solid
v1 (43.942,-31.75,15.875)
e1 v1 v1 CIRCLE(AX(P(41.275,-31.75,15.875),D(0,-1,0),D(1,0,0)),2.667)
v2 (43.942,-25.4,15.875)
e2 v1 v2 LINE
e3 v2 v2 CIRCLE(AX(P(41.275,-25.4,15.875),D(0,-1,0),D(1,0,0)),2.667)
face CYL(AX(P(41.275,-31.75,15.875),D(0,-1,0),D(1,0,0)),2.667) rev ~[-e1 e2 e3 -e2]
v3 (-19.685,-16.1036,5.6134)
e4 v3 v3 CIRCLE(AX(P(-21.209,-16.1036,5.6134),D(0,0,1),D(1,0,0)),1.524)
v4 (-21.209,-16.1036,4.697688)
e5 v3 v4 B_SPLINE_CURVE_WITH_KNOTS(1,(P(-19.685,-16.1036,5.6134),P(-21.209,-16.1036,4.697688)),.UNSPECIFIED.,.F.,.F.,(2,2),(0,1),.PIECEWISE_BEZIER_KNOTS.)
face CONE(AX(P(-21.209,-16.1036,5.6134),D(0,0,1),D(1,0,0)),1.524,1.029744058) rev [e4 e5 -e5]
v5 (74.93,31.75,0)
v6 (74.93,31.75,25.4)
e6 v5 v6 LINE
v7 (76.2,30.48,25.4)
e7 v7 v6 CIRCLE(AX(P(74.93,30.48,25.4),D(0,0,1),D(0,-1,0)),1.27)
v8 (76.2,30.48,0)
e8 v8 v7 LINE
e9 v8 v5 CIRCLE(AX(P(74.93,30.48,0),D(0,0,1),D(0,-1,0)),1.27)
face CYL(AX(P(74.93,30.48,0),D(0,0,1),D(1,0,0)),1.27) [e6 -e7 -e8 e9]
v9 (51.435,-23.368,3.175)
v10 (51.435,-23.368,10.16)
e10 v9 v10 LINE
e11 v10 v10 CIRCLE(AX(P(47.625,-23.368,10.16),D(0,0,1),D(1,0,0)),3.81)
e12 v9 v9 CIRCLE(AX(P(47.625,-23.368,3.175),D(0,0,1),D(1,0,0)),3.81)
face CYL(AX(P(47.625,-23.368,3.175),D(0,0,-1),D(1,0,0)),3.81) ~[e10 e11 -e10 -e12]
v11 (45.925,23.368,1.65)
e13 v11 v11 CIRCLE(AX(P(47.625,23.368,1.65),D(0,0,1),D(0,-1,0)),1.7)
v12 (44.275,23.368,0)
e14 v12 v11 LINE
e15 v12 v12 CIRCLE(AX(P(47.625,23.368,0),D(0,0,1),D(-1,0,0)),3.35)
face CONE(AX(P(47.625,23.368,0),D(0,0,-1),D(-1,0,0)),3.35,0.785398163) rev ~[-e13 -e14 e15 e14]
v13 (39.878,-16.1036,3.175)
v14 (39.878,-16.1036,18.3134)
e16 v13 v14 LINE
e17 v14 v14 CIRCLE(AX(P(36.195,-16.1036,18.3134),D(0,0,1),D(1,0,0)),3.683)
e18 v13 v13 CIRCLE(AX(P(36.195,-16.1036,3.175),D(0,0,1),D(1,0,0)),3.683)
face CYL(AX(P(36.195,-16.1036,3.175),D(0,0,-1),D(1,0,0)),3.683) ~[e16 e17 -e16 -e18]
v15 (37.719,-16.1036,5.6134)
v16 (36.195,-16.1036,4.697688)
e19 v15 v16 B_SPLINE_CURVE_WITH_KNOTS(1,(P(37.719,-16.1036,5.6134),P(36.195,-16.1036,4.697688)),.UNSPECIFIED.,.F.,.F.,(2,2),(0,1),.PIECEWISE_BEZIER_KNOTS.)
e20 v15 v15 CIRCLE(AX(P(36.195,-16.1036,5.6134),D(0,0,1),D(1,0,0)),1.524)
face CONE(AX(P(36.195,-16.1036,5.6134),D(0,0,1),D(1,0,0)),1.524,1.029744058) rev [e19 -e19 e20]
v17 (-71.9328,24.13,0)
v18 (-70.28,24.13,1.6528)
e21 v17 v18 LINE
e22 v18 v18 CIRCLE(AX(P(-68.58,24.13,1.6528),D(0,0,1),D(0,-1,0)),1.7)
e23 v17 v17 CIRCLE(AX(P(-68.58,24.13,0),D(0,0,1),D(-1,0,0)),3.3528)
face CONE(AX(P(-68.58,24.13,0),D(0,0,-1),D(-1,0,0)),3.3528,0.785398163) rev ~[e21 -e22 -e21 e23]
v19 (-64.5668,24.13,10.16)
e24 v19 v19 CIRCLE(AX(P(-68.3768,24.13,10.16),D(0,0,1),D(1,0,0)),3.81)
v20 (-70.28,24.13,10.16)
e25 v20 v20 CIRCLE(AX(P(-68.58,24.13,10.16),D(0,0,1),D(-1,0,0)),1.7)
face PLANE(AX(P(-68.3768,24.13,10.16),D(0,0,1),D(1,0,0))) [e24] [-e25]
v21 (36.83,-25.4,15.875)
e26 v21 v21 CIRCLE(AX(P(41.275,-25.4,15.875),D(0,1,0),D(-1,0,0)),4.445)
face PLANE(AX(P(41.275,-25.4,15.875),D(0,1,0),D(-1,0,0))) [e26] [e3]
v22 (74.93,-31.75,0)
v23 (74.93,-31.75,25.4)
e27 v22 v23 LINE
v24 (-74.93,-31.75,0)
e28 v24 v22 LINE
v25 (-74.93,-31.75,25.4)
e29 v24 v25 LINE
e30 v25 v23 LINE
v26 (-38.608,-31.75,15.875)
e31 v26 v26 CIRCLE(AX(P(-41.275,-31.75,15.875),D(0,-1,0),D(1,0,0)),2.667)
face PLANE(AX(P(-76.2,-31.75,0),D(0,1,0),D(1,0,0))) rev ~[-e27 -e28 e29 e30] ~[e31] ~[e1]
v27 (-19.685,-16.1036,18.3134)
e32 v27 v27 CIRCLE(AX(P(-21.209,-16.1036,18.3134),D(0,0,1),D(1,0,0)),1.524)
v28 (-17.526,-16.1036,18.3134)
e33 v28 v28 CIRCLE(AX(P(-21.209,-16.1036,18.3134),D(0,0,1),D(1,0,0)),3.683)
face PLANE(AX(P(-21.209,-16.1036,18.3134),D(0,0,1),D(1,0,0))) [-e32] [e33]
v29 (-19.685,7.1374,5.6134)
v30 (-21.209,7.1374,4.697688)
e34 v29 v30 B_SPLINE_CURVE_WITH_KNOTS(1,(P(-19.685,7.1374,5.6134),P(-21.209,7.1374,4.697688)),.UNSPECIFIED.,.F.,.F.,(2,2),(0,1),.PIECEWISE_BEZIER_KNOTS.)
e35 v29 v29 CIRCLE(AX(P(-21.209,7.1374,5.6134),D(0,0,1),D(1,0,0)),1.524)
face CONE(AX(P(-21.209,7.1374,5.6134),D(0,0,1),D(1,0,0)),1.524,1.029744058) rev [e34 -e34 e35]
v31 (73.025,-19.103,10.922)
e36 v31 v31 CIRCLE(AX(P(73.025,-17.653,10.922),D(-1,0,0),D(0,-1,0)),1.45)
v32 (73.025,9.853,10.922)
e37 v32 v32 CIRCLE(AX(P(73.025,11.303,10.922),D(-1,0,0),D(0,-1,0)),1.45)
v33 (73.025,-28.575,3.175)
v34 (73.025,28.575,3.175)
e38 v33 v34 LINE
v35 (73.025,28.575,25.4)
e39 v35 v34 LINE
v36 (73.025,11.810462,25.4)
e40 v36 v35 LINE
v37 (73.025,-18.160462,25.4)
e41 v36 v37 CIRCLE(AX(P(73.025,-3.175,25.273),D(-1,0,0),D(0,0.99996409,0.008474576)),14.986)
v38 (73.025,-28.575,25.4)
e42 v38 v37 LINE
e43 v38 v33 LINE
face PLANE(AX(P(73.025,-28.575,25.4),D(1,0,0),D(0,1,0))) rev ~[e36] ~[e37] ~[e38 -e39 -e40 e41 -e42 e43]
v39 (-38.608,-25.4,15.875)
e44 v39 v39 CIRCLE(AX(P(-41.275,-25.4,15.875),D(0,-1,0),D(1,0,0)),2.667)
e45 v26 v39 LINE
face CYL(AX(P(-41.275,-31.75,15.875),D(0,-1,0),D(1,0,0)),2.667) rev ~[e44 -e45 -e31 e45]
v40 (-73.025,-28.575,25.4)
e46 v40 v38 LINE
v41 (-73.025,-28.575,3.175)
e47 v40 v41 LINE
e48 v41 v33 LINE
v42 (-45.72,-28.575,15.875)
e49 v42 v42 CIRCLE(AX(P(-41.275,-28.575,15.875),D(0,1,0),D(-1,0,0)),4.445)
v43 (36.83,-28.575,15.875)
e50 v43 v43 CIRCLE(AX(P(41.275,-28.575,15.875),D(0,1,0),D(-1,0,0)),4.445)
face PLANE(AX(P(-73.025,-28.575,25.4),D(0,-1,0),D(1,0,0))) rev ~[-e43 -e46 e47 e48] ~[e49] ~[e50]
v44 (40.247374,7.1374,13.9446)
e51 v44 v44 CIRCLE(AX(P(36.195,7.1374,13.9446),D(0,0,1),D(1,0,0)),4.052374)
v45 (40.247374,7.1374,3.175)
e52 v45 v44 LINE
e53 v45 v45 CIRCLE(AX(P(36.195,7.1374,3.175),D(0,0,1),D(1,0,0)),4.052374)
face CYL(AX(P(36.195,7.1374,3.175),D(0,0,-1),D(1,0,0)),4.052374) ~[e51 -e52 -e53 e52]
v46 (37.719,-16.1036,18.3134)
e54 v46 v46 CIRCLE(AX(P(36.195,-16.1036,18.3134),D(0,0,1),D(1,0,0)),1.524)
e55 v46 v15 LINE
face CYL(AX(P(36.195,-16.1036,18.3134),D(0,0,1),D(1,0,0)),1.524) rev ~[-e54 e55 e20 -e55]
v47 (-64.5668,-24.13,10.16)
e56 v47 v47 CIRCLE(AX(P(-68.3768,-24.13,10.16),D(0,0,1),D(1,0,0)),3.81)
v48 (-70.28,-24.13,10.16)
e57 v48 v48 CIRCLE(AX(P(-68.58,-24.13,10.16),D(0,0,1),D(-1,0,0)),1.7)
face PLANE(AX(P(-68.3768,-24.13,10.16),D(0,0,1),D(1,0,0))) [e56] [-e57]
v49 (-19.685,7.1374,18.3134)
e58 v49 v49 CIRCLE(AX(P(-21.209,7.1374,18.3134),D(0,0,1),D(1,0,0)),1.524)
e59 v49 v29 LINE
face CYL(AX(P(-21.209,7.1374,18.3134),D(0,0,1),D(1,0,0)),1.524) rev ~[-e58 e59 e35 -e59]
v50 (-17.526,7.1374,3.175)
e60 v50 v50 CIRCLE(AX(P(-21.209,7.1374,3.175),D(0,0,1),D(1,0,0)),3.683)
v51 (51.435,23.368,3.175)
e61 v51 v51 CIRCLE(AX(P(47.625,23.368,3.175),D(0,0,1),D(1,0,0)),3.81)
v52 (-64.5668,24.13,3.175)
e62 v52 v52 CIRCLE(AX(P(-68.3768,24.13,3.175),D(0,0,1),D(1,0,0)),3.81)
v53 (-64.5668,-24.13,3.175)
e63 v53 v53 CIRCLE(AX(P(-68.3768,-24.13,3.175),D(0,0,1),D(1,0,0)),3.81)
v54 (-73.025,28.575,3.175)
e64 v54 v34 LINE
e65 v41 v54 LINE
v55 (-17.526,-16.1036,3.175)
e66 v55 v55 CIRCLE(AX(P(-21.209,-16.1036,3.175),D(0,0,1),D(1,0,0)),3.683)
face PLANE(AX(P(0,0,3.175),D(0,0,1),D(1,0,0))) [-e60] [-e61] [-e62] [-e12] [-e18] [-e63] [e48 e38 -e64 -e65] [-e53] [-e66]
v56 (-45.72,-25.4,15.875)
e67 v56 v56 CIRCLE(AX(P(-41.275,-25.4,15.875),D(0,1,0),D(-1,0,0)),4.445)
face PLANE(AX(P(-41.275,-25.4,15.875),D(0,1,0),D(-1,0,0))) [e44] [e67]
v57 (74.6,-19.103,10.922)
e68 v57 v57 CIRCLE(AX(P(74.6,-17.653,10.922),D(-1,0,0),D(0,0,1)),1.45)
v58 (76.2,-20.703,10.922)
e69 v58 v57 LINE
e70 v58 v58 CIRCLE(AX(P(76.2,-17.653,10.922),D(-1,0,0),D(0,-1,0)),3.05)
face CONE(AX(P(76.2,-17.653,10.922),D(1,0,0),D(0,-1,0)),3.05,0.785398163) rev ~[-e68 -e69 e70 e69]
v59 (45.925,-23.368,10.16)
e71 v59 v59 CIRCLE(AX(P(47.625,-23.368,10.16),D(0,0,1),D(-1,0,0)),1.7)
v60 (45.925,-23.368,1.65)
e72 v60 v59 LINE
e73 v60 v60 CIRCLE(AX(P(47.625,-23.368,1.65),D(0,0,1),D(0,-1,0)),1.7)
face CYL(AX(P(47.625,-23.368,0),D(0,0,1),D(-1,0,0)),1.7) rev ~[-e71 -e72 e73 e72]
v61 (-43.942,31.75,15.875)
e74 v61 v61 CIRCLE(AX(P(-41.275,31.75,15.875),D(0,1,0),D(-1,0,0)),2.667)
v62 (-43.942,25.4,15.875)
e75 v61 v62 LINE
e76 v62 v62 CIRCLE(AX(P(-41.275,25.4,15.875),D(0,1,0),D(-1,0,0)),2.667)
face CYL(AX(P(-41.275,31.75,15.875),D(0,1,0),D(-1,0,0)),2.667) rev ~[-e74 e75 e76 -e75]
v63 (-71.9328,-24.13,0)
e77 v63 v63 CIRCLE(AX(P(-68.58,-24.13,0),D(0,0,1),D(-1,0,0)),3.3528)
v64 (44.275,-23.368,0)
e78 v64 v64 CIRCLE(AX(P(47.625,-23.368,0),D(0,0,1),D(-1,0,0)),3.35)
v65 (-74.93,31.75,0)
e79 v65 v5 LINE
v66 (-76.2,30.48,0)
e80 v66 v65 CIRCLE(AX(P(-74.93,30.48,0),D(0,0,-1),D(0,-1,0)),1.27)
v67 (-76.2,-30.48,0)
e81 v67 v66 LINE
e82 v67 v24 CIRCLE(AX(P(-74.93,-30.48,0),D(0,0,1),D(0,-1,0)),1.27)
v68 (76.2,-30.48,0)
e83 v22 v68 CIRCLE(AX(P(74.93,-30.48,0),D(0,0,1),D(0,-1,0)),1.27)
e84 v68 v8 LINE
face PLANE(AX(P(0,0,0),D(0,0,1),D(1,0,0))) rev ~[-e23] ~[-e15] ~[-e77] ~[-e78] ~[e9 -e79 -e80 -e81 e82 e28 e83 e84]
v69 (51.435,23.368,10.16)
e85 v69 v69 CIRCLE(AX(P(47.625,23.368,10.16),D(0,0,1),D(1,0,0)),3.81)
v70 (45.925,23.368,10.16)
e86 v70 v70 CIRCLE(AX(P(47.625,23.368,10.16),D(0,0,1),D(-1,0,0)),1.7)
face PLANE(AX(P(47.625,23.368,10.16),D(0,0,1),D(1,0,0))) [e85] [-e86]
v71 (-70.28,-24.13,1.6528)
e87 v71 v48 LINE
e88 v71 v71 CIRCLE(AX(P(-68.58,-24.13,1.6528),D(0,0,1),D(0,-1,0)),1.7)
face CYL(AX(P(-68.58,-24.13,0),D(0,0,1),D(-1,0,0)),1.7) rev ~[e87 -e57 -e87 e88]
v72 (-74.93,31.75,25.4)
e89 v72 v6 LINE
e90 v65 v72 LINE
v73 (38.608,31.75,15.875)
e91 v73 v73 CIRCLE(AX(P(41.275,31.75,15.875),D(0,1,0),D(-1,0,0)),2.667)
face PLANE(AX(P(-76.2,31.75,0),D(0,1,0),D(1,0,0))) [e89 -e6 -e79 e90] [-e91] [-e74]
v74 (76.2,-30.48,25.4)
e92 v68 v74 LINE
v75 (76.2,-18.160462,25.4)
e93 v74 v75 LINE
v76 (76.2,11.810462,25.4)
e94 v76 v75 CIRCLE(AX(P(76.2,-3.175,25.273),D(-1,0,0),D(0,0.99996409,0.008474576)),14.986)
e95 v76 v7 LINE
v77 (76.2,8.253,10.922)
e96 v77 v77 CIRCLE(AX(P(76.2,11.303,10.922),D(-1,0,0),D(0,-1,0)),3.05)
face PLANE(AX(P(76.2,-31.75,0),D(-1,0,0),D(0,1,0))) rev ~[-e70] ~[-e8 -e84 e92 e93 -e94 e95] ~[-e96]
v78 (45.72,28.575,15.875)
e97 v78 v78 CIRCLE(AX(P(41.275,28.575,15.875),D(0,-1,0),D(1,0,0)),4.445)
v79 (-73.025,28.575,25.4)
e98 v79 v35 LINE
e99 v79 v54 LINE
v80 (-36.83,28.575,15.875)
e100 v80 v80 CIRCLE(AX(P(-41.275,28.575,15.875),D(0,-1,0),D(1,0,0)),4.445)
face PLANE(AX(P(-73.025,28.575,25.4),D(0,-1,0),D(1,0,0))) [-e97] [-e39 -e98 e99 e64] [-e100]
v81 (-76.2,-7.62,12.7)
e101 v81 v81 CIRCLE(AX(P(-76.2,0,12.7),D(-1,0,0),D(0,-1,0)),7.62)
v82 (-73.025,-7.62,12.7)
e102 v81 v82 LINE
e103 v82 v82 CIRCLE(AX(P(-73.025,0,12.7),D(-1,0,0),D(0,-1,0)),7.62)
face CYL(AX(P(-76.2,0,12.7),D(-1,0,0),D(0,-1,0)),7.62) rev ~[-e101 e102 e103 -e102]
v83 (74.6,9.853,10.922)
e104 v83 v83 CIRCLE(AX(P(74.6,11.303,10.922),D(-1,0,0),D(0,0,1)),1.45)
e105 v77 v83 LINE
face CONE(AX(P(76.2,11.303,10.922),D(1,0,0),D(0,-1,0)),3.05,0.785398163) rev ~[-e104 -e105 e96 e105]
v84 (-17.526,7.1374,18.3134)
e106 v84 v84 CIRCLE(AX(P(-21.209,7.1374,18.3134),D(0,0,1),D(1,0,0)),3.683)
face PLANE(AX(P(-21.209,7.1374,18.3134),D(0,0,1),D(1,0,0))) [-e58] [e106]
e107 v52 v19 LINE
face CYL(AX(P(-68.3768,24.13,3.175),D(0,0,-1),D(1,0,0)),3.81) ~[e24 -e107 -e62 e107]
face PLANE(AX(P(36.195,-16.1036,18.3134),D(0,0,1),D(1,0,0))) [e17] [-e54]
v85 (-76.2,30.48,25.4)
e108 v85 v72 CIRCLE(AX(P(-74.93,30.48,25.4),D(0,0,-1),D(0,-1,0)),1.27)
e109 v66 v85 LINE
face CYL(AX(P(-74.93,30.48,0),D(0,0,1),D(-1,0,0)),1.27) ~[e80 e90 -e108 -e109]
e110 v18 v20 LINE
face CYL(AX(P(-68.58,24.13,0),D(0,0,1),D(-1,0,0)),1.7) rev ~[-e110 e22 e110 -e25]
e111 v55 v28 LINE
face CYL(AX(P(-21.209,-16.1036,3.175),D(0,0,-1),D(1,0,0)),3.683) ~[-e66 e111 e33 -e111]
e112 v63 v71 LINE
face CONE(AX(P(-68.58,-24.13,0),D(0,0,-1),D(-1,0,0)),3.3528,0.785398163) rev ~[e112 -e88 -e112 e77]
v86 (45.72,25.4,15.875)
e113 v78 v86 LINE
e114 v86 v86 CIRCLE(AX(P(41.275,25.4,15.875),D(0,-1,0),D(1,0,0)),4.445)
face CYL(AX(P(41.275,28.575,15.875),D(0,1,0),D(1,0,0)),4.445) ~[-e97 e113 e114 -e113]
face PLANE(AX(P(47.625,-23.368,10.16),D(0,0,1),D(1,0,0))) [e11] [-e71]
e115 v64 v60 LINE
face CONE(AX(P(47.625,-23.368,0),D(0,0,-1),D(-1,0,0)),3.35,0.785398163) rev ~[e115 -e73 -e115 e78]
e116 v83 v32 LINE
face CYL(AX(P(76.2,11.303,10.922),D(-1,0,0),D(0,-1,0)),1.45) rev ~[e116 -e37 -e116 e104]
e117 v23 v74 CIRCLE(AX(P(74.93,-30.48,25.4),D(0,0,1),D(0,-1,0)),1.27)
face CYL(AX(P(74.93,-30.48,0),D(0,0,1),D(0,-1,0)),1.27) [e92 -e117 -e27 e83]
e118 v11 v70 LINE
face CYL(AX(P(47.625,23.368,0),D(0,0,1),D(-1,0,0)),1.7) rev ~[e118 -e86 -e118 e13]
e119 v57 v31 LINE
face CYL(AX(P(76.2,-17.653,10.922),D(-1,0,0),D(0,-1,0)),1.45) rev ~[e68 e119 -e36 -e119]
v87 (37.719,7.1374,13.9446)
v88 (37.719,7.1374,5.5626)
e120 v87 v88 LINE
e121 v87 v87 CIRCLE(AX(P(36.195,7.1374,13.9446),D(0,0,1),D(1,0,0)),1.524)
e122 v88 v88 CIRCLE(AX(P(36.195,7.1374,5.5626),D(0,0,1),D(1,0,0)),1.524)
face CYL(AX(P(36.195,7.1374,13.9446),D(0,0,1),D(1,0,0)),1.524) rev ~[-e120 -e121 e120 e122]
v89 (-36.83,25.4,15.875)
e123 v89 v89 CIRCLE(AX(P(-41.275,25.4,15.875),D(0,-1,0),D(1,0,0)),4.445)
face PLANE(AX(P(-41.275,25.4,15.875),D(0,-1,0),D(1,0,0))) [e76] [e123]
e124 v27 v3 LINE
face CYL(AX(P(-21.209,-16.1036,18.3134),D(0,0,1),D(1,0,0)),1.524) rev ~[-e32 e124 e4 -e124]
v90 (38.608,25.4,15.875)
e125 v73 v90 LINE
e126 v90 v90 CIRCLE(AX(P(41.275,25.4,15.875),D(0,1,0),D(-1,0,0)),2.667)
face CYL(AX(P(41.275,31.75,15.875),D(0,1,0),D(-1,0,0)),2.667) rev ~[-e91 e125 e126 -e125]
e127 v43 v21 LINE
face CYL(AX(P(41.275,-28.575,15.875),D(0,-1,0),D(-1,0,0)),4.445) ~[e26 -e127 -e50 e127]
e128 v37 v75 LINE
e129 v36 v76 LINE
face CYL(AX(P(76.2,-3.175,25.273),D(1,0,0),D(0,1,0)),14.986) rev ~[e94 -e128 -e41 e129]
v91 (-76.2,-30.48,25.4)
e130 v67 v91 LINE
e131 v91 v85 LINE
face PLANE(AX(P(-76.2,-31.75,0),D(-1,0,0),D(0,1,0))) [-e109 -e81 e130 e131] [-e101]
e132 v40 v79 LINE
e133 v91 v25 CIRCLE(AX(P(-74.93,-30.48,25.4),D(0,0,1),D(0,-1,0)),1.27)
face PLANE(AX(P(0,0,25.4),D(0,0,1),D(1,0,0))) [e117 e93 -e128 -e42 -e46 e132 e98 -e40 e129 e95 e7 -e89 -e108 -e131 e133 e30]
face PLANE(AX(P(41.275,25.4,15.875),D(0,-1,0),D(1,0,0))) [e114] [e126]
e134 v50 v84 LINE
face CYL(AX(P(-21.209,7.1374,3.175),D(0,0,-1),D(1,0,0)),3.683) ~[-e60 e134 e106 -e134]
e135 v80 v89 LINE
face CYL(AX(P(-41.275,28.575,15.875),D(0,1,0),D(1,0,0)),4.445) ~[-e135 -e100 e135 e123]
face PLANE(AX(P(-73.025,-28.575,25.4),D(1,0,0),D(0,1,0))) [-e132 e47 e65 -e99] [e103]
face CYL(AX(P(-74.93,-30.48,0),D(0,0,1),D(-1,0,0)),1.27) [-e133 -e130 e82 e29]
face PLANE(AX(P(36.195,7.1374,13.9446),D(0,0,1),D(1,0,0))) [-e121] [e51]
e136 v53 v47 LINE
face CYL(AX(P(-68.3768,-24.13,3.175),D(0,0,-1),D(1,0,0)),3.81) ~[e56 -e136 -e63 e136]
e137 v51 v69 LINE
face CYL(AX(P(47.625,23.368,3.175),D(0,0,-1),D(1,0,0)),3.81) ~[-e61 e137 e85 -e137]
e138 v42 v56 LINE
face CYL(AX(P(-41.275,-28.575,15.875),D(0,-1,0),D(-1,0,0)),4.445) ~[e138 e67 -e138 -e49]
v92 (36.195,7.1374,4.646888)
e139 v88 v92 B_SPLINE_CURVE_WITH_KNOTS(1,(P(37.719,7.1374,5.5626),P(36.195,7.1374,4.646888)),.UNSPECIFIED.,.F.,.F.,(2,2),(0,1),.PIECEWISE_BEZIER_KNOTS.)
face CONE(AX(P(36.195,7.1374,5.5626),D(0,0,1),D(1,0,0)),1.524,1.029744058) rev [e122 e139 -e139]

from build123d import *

# Parameters (mm, degrees)
SKETCH_W            = 152.4
SKETCH_H            = 63.5
PAD_DEPTH           = 25.4
FILLET_R            = 1.27
SKETCH001_W         = 146.05
SKETCH001_H         = 57.15
POCKET_DEPTH        = 22.225
SKETCH002_R         = 14.986
POCKET001_DEPTH     = 12.7
SKETCH010_R         = 3.683
PAD002_DEPTH        = 15.1384
SKETCH011_R         = 4.052374
PAD003_DEPTH        = 10.7696
SKETCH012_R         = 1.524
HOLE_DEPTH          = 8.382
HOLE_TIPS_R         = 1.524
SKETCH013_R         = 1.524
HOLE004_DEPTH       = 12.7
HOLE004_TIPS_R      = 1.524
SKETCH014_R         = 3.81
PAD004_DEPTH        = 6.985
HOLE005_D           = 3.4
HOLE005_DEPTH       = 75.7936
HOLE005_CSINK_D     = 6.7056
HOLE005_CSINK_ANGLE = 90
SKETCH016_R         = 7.62
POCKET002_DEPTH     = 5.0038
SKETCH017_R         = 3.81
PAD005_DEPTH        = 6.985
HOLE006_D           = 3.4
HOLE006_DEPTH       = 24.9936
HOLE006_CSINK_D     = 6.7
HOLE006_CSINK_ANGLE = 90
HOLE006_TIPS_R      = 1.7
SKETCH019_R         = 4.445
PAD006_DEPTH        = 3.175
SKETCH020_R         = 2.667
HOLE007_DEPTH       = 12.7
HOLE007_TIPS_R      = 2.667
SKETCH021_R         = 4.445
PAD007_DEPTH        = 3.175
SKETCH022_R         = 2.667
HOLE008_DEPTH       = 12.7
HOLE008_TIPS_R      = 2.667
HOLE009_D           = 2.9
HOLE009_DEPTH       = 24.9936
HOLE009_CSINK_D     = 6.1
HOLE009_CSINK_ANGLE = 90
HOLE009_TIPS_R      = 1.45


with BuildPart() as part:
    # Sketch → Pad (new body)
    with BuildSketch(Plane.XY):
        Rectangle(SKETCH_W, SKETCH_H)
    extrude(amount=PAD_DEPTH)

    # Fillet
    fillet_edges = [part.edges().sort_by_distance(p)[0] for p in [
        (76.2, -31.75, 12.7),
        (76.2, 31.75, 12.7),
        (-76.2, 31.75, 12.7),
        (-76.2, -31.75, 12.7),
    ]]
    fillet(fillet_edges, radius=FILLET_R)

    # Sketch001 (on Face5 of Fillet) → Pocket (cut)
    with BuildSketch(Plane.XY.offset(25.4)):
        Rectangle(SKETCH001_W, SKETCH001_H)
    extrude(amount=-POCKET_DEPTH, mode=Mode.SUBTRACT)

    # Sketch002 (on Face10 of Pocket) → Pocket001 (cut)
    with BuildSketch(Plane.YZ.offset(76.2)):
        with Locations((-3.175, 25.273)):
            Circle(SKETCH002_R)
    extrude(amount=-POCKET001_DEPTH, mode=Mode.SUBTRACT)

    # Sketch010 → Pad002 (join)
    with BuildSketch(Plane.XY.offset(3.175)):
        with Locations((-21.209, -16.1036)):
            Circle(SKETCH010_R)
        with Locations((36.195, -16.1036)):
            Circle(SKETCH010_R)
        with Locations((-21.209, 7.1374)):
            Circle(SKETCH010_R)
    extrude(amount=PAD002_DEPTH)

    # Sketch011 (on Face16 of Pad002) → Pad003 (join)
    with BuildSketch(Plane.XY.offset(3.175)):
        with Locations((36.195, 7.1374)):
            Circle(SKETCH011_R)
    extrude(amount=PAD003_DEPTH)

    # Sketch012 (on Face24 of Pad003) → Hole (cut)
    with BuildSketch(Plane.XY.offset(13.9446)):
        with Locations((36.195, 7.1374)):
            Circle(SKETCH012_R)
    extrude(amount=-HOLE_DEPTH, mode=Mode.SUBTRACT)

    # Hole tips → Hole tip 1 section 0
    with BuildSketch(Plane.XY.offset(5.5626), mode=Mode.PRIVATE) as hole_tip_1_s0:
        with Locations((36.195, 7.1374)):
            Circle(HOLE_TIPS_R)
    loft([hole_tip_1_s0.sketch, Vertex(36.195, 7.1374, 4.646888)], mode=Mode.SUBTRACT)

    # Sketch013 (on Face23 of Hole) → Hole004 (cut)
    with BuildSketch(Plane.XY.offset(18.3134)):
        with Locations((-21.209, 7.1374)):
            Circle(SKETCH013_R)
        with Locations((36.195, -16.1036)):
            Circle(SKETCH013_R)
        with Locations((-21.209, -16.1036)):
            Circle(SKETCH013_R)
    extrude(amount=-HOLE004_DEPTH, mode=Mode.SUBTRACT)

    # Hole004 tips → Hole004 tip 1 section 0
    with BuildSketch(Plane.XY.offset(5.6134), mode=Mode.PRIVATE) as hole004_tip_1_s0:
        with Locations((-21.209, 7.1374)):
            Circle(HOLE004_TIPS_R)
    loft([hole004_tip_1_s0.sketch, Vertex(-21.209, 7.1374, 4.697688)], mode=Mode.SUBTRACT)

    # Hole004 tips → Hole004 tip 2 section 0
    with BuildSketch(Plane.XY.offset(5.6134), mode=Mode.PRIVATE) as hole004_tip_2_s0:
        with Locations((36.195, -16.1036)):
            Circle(HOLE004_TIPS_R)
    loft([hole004_tip_2_s0.sketch, Vertex(36.195, -16.1036, 4.697688)], mode=Mode.SUBTRACT)

    # Hole004 tips → Hole004 tip 3 section 0
    with BuildSketch(Plane.XY.offset(5.6134), mode=Mode.PRIVATE) as hole004_tip_3_s0:
        with Locations((-21.209, -16.1036)):
            Circle(HOLE004_TIPS_R)
    loft([hole004_tip_3_s0.sketch, Vertex(-21.209, -16.1036, 4.697688)], mode=Mode.SUBTRACT)

    # Sketch014 (on Face16 of Hole004) → Pad004 (join)
    with BuildSketch(Plane.XY.offset(3.175)):
        with Locations((-68.3768, 24.13)):
            Circle(SKETCH014_R)
        with Locations((-68.3768, -24.13)):
            Circle(SKETCH014_R)
    extrude(amount=PAD004_DEPTH)

    # Hole005
    with Locations(Plane(origin=(0, 0, 0), x_dir=(1, 0, 0), z_dir=(0, 0, -1))):
        with Locations((-68.58, 24.13), (-68.58, -24.13)):
            CounterSinkHole(HOLE005_D / 2, HOLE005_CSINK_D / 2, depth=HOLE005_DEPTH, counter_sink_angle=HOLE005_CSINK_ANGLE)

    # Sketch016 (on Face1 of Hole005) → Pocket002 (cut)
    with BuildSketch(Plane(origin=(-76.2, 0, 0), x_dir=(0, -1, 0), z_dir=(-1, 0, 0))):
        with Locations((0, 12.7)):
            Circle(SKETCH016_R)
    extrude(amount=-POCKET002_DEPTH, mode=Mode.SUBTRACT)

    # Sketch017 (on Face21 of Pocket002) → Pad005 (join)
    with BuildSketch(Plane.XY.offset(3.175)):
        with Locations((47.625, -23.368)):
            Circle(SKETCH017_R)
        with Locations((47.625, 23.368)):
            Circle(SKETCH017_R)
    extrude(amount=PAD005_DEPTH)

    # Hole006
    with Locations(Plane(origin=(0, 0, 0), x_dir=(1, 0, 0), z_dir=(0, 0, -1))):
        with Locations((47.625, 23.368), (47.625, -23.368)):
            CounterSinkHole(HOLE006_D / 2, HOLE006_CSINK_D / 2, depth=HOLE006_DEPTH, counter_sink_angle=HOLE006_CSINK_ANGLE)

    # Hole006 tips → Hole006 tip 1 section 0
    with BuildSketch(Plane(origin=(0, 0, 24.9936), x_dir=(1, 0, 0), z_dir=(0, 0, -1)), mode=Mode.PRIVATE) as hole006_tip_1_s0:
        with Locations((47.625, 23.368)):
            Circle(HOLE006_TIPS_R)
    loft([hole006_tip_1_s0.sketch, Vertex(47.625, -23.368, 26.015063)], mode=Mode.SUBTRACT)

    # Hole006 tips → Hole006 tip 2 section 0
    with BuildSketch(Plane(origin=(0, 0, 24.9936), x_dir=(1, 0, 0), z_dir=(0, 0, -1)), mode=Mode.PRIVATE) as hole006_tip_2_s0:
        with Locations((47.625, -23.368)):
            Circle(HOLE006_TIPS_R)
    loft([hole006_tip_2_s0.sketch, Vertex(47.625, 23.368, 26.015063)], mode=Mode.SUBTRACT)

    # Sketch019 (on Face20 of Hole006) → Pad006 (join)
    with BuildSketch(Plane(origin=(0, -28.575, 0), x_dir=(-1, 0, 0), z_dir=(0, 1, 0))):
        with Locations((-41.275, 15.875)):
            Circle(SKETCH019_R)
        with Locations((41.275, 15.875)):
            Circle(SKETCH019_R)
    extrude(amount=PAD006_DEPTH)

    # Sketch020 (on Face8 of Pad006) → Hole007 (cut)
    with BuildSketch(Plane.XZ.offset(31.75)):
        with Locations((-41.275, 15.875)):
            Circle(SKETCH020_R)
        with Locations((41.275, 15.875)):
            Circle(SKETCH020_R)
    extrude(amount=-HOLE007_DEPTH, mode=Mode.SUBTRACT)

    # Hole007 tips → Hole007 tip 1 section 0
    with BuildSketch(Plane.XZ.offset(19.05), mode=Mode.PRIVATE) as hole007_tip_1_s0:
        with Locations((-41.275, 15.875)):
            Circle(HOLE007_TIPS_R)
    loft([hole007_tip_1_s0.sketch, Vertex(-41.275, -17.447505, 15.875)], mode=Mode.SUBTRACT)

    # Hole007 tips → Hole007 tip 2 section 0
    with BuildSketch(Plane.XZ.offset(19.05), mode=Mode.PRIVATE) as hole007_tip_2_s0:
        with Locations((41.275, 15.875)):
            Circle(HOLE007_TIPS_R)
    loft([hole007_tip_2_s0.sketch, Vertex(41.275, -17.447505, 15.875)], mode=Mode.SUBTRACT)

    # Sketch021 (on Face18 of Hole007) → Pad007 (join)
    with BuildSketch(Plane.XZ.offset(-28.575)):
        with Locations((-41.275, 15.875)):
            Circle(SKETCH021_R)
        with Locations((41.275, 15.875)):
            Circle(SKETCH021_R)
    extrude(amount=PAD007_DEPTH)

    # Sketch022 (on Face7 of Pad007) → Hole008 (cut)
    with BuildSketch(Plane(origin=(0, 31.75, 0), x_dir=(-1, 0, 0), z_dir=(0, 1, 0))):
        with Locations((-41.275, 15.875)):
            Circle(SKETCH022_R)
        with Locations((41.275, 15.875)):
            Circle(SKETCH022_R)
    extrude(amount=-HOLE008_DEPTH, mode=Mode.SUBTRACT)

    # Hole008 tips → Hole008 tip 1 section 0
    with BuildSketch(Plane(origin=(0, 19.05, 0), x_dir=(-1, 0, 0), z_dir=(0, 1, 0)), mode=Mode.PRIVATE) as hole008_tip_1_s0:
        with Locations((-41.275, 15.875)):
            Circle(HOLE008_TIPS_R)
    loft([hole008_tip_1_s0.sketch, Vertex(41.275, 17.447505, 15.875)], mode=Mode.SUBTRACT)

    # Hole008 tips → Hole008 tip 2 section 0
    with BuildSketch(Plane(origin=(0, 19.05, 0), x_dir=(-1, 0, 0), z_dir=(0, 1, 0)), mode=Mode.PRIVATE) as hole008_tip_2_s0:
        with Locations((41.275, 15.875)):
            Circle(HOLE008_TIPS_R)
    loft([hole008_tip_2_s0.sketch, Vertex(-41.275, 17.447505, 15.875)], mode=Mode.SUBTRACT)

    # Hole009
    with Locations(Plane.YZ.offset(76.2)):
        with Locations((-17.653, 10.922), (11.303, 10.922)):
            CounterSinkHole(HOLE009_D / 2, HOLE009_CSINK_D / 2, depth=HOLE009_DEPTH, counter_sink_angle=HOLE009_CSINK_ANGLE)

    # Hole009 tips → Hole009 tip 1 section 0
    with BuildSketch(Plane.YZ.offset(51.2064), mode=Mode.PRIVATE) as hole009_tip_1_s0:
        with Locations((-17.653, 10.922)):
            Circle(HOLE009_TIPS_R)
    loft([hole009_tip_1_s0.sketch, Vertex(50.335152, -17.653, 10.922)], mode=Mode.SUBTRACT)

    # Hole009 tips → Hole009 tip 2 section 0
    with BuildSketch(Plane.YZ.offset(51.2064), mode=Mode.PRIVATE) as hole009_tip_2_s0:
        with Locations((11.303, 10.922)):
            Circle(HOLE009_TIPS_R)
    loft([hole009_tip_2_s0.sketch, Vertex(50.335152, 11.303, 10.922)], mode=Mode.SUBTRACT)


solid = part.part
